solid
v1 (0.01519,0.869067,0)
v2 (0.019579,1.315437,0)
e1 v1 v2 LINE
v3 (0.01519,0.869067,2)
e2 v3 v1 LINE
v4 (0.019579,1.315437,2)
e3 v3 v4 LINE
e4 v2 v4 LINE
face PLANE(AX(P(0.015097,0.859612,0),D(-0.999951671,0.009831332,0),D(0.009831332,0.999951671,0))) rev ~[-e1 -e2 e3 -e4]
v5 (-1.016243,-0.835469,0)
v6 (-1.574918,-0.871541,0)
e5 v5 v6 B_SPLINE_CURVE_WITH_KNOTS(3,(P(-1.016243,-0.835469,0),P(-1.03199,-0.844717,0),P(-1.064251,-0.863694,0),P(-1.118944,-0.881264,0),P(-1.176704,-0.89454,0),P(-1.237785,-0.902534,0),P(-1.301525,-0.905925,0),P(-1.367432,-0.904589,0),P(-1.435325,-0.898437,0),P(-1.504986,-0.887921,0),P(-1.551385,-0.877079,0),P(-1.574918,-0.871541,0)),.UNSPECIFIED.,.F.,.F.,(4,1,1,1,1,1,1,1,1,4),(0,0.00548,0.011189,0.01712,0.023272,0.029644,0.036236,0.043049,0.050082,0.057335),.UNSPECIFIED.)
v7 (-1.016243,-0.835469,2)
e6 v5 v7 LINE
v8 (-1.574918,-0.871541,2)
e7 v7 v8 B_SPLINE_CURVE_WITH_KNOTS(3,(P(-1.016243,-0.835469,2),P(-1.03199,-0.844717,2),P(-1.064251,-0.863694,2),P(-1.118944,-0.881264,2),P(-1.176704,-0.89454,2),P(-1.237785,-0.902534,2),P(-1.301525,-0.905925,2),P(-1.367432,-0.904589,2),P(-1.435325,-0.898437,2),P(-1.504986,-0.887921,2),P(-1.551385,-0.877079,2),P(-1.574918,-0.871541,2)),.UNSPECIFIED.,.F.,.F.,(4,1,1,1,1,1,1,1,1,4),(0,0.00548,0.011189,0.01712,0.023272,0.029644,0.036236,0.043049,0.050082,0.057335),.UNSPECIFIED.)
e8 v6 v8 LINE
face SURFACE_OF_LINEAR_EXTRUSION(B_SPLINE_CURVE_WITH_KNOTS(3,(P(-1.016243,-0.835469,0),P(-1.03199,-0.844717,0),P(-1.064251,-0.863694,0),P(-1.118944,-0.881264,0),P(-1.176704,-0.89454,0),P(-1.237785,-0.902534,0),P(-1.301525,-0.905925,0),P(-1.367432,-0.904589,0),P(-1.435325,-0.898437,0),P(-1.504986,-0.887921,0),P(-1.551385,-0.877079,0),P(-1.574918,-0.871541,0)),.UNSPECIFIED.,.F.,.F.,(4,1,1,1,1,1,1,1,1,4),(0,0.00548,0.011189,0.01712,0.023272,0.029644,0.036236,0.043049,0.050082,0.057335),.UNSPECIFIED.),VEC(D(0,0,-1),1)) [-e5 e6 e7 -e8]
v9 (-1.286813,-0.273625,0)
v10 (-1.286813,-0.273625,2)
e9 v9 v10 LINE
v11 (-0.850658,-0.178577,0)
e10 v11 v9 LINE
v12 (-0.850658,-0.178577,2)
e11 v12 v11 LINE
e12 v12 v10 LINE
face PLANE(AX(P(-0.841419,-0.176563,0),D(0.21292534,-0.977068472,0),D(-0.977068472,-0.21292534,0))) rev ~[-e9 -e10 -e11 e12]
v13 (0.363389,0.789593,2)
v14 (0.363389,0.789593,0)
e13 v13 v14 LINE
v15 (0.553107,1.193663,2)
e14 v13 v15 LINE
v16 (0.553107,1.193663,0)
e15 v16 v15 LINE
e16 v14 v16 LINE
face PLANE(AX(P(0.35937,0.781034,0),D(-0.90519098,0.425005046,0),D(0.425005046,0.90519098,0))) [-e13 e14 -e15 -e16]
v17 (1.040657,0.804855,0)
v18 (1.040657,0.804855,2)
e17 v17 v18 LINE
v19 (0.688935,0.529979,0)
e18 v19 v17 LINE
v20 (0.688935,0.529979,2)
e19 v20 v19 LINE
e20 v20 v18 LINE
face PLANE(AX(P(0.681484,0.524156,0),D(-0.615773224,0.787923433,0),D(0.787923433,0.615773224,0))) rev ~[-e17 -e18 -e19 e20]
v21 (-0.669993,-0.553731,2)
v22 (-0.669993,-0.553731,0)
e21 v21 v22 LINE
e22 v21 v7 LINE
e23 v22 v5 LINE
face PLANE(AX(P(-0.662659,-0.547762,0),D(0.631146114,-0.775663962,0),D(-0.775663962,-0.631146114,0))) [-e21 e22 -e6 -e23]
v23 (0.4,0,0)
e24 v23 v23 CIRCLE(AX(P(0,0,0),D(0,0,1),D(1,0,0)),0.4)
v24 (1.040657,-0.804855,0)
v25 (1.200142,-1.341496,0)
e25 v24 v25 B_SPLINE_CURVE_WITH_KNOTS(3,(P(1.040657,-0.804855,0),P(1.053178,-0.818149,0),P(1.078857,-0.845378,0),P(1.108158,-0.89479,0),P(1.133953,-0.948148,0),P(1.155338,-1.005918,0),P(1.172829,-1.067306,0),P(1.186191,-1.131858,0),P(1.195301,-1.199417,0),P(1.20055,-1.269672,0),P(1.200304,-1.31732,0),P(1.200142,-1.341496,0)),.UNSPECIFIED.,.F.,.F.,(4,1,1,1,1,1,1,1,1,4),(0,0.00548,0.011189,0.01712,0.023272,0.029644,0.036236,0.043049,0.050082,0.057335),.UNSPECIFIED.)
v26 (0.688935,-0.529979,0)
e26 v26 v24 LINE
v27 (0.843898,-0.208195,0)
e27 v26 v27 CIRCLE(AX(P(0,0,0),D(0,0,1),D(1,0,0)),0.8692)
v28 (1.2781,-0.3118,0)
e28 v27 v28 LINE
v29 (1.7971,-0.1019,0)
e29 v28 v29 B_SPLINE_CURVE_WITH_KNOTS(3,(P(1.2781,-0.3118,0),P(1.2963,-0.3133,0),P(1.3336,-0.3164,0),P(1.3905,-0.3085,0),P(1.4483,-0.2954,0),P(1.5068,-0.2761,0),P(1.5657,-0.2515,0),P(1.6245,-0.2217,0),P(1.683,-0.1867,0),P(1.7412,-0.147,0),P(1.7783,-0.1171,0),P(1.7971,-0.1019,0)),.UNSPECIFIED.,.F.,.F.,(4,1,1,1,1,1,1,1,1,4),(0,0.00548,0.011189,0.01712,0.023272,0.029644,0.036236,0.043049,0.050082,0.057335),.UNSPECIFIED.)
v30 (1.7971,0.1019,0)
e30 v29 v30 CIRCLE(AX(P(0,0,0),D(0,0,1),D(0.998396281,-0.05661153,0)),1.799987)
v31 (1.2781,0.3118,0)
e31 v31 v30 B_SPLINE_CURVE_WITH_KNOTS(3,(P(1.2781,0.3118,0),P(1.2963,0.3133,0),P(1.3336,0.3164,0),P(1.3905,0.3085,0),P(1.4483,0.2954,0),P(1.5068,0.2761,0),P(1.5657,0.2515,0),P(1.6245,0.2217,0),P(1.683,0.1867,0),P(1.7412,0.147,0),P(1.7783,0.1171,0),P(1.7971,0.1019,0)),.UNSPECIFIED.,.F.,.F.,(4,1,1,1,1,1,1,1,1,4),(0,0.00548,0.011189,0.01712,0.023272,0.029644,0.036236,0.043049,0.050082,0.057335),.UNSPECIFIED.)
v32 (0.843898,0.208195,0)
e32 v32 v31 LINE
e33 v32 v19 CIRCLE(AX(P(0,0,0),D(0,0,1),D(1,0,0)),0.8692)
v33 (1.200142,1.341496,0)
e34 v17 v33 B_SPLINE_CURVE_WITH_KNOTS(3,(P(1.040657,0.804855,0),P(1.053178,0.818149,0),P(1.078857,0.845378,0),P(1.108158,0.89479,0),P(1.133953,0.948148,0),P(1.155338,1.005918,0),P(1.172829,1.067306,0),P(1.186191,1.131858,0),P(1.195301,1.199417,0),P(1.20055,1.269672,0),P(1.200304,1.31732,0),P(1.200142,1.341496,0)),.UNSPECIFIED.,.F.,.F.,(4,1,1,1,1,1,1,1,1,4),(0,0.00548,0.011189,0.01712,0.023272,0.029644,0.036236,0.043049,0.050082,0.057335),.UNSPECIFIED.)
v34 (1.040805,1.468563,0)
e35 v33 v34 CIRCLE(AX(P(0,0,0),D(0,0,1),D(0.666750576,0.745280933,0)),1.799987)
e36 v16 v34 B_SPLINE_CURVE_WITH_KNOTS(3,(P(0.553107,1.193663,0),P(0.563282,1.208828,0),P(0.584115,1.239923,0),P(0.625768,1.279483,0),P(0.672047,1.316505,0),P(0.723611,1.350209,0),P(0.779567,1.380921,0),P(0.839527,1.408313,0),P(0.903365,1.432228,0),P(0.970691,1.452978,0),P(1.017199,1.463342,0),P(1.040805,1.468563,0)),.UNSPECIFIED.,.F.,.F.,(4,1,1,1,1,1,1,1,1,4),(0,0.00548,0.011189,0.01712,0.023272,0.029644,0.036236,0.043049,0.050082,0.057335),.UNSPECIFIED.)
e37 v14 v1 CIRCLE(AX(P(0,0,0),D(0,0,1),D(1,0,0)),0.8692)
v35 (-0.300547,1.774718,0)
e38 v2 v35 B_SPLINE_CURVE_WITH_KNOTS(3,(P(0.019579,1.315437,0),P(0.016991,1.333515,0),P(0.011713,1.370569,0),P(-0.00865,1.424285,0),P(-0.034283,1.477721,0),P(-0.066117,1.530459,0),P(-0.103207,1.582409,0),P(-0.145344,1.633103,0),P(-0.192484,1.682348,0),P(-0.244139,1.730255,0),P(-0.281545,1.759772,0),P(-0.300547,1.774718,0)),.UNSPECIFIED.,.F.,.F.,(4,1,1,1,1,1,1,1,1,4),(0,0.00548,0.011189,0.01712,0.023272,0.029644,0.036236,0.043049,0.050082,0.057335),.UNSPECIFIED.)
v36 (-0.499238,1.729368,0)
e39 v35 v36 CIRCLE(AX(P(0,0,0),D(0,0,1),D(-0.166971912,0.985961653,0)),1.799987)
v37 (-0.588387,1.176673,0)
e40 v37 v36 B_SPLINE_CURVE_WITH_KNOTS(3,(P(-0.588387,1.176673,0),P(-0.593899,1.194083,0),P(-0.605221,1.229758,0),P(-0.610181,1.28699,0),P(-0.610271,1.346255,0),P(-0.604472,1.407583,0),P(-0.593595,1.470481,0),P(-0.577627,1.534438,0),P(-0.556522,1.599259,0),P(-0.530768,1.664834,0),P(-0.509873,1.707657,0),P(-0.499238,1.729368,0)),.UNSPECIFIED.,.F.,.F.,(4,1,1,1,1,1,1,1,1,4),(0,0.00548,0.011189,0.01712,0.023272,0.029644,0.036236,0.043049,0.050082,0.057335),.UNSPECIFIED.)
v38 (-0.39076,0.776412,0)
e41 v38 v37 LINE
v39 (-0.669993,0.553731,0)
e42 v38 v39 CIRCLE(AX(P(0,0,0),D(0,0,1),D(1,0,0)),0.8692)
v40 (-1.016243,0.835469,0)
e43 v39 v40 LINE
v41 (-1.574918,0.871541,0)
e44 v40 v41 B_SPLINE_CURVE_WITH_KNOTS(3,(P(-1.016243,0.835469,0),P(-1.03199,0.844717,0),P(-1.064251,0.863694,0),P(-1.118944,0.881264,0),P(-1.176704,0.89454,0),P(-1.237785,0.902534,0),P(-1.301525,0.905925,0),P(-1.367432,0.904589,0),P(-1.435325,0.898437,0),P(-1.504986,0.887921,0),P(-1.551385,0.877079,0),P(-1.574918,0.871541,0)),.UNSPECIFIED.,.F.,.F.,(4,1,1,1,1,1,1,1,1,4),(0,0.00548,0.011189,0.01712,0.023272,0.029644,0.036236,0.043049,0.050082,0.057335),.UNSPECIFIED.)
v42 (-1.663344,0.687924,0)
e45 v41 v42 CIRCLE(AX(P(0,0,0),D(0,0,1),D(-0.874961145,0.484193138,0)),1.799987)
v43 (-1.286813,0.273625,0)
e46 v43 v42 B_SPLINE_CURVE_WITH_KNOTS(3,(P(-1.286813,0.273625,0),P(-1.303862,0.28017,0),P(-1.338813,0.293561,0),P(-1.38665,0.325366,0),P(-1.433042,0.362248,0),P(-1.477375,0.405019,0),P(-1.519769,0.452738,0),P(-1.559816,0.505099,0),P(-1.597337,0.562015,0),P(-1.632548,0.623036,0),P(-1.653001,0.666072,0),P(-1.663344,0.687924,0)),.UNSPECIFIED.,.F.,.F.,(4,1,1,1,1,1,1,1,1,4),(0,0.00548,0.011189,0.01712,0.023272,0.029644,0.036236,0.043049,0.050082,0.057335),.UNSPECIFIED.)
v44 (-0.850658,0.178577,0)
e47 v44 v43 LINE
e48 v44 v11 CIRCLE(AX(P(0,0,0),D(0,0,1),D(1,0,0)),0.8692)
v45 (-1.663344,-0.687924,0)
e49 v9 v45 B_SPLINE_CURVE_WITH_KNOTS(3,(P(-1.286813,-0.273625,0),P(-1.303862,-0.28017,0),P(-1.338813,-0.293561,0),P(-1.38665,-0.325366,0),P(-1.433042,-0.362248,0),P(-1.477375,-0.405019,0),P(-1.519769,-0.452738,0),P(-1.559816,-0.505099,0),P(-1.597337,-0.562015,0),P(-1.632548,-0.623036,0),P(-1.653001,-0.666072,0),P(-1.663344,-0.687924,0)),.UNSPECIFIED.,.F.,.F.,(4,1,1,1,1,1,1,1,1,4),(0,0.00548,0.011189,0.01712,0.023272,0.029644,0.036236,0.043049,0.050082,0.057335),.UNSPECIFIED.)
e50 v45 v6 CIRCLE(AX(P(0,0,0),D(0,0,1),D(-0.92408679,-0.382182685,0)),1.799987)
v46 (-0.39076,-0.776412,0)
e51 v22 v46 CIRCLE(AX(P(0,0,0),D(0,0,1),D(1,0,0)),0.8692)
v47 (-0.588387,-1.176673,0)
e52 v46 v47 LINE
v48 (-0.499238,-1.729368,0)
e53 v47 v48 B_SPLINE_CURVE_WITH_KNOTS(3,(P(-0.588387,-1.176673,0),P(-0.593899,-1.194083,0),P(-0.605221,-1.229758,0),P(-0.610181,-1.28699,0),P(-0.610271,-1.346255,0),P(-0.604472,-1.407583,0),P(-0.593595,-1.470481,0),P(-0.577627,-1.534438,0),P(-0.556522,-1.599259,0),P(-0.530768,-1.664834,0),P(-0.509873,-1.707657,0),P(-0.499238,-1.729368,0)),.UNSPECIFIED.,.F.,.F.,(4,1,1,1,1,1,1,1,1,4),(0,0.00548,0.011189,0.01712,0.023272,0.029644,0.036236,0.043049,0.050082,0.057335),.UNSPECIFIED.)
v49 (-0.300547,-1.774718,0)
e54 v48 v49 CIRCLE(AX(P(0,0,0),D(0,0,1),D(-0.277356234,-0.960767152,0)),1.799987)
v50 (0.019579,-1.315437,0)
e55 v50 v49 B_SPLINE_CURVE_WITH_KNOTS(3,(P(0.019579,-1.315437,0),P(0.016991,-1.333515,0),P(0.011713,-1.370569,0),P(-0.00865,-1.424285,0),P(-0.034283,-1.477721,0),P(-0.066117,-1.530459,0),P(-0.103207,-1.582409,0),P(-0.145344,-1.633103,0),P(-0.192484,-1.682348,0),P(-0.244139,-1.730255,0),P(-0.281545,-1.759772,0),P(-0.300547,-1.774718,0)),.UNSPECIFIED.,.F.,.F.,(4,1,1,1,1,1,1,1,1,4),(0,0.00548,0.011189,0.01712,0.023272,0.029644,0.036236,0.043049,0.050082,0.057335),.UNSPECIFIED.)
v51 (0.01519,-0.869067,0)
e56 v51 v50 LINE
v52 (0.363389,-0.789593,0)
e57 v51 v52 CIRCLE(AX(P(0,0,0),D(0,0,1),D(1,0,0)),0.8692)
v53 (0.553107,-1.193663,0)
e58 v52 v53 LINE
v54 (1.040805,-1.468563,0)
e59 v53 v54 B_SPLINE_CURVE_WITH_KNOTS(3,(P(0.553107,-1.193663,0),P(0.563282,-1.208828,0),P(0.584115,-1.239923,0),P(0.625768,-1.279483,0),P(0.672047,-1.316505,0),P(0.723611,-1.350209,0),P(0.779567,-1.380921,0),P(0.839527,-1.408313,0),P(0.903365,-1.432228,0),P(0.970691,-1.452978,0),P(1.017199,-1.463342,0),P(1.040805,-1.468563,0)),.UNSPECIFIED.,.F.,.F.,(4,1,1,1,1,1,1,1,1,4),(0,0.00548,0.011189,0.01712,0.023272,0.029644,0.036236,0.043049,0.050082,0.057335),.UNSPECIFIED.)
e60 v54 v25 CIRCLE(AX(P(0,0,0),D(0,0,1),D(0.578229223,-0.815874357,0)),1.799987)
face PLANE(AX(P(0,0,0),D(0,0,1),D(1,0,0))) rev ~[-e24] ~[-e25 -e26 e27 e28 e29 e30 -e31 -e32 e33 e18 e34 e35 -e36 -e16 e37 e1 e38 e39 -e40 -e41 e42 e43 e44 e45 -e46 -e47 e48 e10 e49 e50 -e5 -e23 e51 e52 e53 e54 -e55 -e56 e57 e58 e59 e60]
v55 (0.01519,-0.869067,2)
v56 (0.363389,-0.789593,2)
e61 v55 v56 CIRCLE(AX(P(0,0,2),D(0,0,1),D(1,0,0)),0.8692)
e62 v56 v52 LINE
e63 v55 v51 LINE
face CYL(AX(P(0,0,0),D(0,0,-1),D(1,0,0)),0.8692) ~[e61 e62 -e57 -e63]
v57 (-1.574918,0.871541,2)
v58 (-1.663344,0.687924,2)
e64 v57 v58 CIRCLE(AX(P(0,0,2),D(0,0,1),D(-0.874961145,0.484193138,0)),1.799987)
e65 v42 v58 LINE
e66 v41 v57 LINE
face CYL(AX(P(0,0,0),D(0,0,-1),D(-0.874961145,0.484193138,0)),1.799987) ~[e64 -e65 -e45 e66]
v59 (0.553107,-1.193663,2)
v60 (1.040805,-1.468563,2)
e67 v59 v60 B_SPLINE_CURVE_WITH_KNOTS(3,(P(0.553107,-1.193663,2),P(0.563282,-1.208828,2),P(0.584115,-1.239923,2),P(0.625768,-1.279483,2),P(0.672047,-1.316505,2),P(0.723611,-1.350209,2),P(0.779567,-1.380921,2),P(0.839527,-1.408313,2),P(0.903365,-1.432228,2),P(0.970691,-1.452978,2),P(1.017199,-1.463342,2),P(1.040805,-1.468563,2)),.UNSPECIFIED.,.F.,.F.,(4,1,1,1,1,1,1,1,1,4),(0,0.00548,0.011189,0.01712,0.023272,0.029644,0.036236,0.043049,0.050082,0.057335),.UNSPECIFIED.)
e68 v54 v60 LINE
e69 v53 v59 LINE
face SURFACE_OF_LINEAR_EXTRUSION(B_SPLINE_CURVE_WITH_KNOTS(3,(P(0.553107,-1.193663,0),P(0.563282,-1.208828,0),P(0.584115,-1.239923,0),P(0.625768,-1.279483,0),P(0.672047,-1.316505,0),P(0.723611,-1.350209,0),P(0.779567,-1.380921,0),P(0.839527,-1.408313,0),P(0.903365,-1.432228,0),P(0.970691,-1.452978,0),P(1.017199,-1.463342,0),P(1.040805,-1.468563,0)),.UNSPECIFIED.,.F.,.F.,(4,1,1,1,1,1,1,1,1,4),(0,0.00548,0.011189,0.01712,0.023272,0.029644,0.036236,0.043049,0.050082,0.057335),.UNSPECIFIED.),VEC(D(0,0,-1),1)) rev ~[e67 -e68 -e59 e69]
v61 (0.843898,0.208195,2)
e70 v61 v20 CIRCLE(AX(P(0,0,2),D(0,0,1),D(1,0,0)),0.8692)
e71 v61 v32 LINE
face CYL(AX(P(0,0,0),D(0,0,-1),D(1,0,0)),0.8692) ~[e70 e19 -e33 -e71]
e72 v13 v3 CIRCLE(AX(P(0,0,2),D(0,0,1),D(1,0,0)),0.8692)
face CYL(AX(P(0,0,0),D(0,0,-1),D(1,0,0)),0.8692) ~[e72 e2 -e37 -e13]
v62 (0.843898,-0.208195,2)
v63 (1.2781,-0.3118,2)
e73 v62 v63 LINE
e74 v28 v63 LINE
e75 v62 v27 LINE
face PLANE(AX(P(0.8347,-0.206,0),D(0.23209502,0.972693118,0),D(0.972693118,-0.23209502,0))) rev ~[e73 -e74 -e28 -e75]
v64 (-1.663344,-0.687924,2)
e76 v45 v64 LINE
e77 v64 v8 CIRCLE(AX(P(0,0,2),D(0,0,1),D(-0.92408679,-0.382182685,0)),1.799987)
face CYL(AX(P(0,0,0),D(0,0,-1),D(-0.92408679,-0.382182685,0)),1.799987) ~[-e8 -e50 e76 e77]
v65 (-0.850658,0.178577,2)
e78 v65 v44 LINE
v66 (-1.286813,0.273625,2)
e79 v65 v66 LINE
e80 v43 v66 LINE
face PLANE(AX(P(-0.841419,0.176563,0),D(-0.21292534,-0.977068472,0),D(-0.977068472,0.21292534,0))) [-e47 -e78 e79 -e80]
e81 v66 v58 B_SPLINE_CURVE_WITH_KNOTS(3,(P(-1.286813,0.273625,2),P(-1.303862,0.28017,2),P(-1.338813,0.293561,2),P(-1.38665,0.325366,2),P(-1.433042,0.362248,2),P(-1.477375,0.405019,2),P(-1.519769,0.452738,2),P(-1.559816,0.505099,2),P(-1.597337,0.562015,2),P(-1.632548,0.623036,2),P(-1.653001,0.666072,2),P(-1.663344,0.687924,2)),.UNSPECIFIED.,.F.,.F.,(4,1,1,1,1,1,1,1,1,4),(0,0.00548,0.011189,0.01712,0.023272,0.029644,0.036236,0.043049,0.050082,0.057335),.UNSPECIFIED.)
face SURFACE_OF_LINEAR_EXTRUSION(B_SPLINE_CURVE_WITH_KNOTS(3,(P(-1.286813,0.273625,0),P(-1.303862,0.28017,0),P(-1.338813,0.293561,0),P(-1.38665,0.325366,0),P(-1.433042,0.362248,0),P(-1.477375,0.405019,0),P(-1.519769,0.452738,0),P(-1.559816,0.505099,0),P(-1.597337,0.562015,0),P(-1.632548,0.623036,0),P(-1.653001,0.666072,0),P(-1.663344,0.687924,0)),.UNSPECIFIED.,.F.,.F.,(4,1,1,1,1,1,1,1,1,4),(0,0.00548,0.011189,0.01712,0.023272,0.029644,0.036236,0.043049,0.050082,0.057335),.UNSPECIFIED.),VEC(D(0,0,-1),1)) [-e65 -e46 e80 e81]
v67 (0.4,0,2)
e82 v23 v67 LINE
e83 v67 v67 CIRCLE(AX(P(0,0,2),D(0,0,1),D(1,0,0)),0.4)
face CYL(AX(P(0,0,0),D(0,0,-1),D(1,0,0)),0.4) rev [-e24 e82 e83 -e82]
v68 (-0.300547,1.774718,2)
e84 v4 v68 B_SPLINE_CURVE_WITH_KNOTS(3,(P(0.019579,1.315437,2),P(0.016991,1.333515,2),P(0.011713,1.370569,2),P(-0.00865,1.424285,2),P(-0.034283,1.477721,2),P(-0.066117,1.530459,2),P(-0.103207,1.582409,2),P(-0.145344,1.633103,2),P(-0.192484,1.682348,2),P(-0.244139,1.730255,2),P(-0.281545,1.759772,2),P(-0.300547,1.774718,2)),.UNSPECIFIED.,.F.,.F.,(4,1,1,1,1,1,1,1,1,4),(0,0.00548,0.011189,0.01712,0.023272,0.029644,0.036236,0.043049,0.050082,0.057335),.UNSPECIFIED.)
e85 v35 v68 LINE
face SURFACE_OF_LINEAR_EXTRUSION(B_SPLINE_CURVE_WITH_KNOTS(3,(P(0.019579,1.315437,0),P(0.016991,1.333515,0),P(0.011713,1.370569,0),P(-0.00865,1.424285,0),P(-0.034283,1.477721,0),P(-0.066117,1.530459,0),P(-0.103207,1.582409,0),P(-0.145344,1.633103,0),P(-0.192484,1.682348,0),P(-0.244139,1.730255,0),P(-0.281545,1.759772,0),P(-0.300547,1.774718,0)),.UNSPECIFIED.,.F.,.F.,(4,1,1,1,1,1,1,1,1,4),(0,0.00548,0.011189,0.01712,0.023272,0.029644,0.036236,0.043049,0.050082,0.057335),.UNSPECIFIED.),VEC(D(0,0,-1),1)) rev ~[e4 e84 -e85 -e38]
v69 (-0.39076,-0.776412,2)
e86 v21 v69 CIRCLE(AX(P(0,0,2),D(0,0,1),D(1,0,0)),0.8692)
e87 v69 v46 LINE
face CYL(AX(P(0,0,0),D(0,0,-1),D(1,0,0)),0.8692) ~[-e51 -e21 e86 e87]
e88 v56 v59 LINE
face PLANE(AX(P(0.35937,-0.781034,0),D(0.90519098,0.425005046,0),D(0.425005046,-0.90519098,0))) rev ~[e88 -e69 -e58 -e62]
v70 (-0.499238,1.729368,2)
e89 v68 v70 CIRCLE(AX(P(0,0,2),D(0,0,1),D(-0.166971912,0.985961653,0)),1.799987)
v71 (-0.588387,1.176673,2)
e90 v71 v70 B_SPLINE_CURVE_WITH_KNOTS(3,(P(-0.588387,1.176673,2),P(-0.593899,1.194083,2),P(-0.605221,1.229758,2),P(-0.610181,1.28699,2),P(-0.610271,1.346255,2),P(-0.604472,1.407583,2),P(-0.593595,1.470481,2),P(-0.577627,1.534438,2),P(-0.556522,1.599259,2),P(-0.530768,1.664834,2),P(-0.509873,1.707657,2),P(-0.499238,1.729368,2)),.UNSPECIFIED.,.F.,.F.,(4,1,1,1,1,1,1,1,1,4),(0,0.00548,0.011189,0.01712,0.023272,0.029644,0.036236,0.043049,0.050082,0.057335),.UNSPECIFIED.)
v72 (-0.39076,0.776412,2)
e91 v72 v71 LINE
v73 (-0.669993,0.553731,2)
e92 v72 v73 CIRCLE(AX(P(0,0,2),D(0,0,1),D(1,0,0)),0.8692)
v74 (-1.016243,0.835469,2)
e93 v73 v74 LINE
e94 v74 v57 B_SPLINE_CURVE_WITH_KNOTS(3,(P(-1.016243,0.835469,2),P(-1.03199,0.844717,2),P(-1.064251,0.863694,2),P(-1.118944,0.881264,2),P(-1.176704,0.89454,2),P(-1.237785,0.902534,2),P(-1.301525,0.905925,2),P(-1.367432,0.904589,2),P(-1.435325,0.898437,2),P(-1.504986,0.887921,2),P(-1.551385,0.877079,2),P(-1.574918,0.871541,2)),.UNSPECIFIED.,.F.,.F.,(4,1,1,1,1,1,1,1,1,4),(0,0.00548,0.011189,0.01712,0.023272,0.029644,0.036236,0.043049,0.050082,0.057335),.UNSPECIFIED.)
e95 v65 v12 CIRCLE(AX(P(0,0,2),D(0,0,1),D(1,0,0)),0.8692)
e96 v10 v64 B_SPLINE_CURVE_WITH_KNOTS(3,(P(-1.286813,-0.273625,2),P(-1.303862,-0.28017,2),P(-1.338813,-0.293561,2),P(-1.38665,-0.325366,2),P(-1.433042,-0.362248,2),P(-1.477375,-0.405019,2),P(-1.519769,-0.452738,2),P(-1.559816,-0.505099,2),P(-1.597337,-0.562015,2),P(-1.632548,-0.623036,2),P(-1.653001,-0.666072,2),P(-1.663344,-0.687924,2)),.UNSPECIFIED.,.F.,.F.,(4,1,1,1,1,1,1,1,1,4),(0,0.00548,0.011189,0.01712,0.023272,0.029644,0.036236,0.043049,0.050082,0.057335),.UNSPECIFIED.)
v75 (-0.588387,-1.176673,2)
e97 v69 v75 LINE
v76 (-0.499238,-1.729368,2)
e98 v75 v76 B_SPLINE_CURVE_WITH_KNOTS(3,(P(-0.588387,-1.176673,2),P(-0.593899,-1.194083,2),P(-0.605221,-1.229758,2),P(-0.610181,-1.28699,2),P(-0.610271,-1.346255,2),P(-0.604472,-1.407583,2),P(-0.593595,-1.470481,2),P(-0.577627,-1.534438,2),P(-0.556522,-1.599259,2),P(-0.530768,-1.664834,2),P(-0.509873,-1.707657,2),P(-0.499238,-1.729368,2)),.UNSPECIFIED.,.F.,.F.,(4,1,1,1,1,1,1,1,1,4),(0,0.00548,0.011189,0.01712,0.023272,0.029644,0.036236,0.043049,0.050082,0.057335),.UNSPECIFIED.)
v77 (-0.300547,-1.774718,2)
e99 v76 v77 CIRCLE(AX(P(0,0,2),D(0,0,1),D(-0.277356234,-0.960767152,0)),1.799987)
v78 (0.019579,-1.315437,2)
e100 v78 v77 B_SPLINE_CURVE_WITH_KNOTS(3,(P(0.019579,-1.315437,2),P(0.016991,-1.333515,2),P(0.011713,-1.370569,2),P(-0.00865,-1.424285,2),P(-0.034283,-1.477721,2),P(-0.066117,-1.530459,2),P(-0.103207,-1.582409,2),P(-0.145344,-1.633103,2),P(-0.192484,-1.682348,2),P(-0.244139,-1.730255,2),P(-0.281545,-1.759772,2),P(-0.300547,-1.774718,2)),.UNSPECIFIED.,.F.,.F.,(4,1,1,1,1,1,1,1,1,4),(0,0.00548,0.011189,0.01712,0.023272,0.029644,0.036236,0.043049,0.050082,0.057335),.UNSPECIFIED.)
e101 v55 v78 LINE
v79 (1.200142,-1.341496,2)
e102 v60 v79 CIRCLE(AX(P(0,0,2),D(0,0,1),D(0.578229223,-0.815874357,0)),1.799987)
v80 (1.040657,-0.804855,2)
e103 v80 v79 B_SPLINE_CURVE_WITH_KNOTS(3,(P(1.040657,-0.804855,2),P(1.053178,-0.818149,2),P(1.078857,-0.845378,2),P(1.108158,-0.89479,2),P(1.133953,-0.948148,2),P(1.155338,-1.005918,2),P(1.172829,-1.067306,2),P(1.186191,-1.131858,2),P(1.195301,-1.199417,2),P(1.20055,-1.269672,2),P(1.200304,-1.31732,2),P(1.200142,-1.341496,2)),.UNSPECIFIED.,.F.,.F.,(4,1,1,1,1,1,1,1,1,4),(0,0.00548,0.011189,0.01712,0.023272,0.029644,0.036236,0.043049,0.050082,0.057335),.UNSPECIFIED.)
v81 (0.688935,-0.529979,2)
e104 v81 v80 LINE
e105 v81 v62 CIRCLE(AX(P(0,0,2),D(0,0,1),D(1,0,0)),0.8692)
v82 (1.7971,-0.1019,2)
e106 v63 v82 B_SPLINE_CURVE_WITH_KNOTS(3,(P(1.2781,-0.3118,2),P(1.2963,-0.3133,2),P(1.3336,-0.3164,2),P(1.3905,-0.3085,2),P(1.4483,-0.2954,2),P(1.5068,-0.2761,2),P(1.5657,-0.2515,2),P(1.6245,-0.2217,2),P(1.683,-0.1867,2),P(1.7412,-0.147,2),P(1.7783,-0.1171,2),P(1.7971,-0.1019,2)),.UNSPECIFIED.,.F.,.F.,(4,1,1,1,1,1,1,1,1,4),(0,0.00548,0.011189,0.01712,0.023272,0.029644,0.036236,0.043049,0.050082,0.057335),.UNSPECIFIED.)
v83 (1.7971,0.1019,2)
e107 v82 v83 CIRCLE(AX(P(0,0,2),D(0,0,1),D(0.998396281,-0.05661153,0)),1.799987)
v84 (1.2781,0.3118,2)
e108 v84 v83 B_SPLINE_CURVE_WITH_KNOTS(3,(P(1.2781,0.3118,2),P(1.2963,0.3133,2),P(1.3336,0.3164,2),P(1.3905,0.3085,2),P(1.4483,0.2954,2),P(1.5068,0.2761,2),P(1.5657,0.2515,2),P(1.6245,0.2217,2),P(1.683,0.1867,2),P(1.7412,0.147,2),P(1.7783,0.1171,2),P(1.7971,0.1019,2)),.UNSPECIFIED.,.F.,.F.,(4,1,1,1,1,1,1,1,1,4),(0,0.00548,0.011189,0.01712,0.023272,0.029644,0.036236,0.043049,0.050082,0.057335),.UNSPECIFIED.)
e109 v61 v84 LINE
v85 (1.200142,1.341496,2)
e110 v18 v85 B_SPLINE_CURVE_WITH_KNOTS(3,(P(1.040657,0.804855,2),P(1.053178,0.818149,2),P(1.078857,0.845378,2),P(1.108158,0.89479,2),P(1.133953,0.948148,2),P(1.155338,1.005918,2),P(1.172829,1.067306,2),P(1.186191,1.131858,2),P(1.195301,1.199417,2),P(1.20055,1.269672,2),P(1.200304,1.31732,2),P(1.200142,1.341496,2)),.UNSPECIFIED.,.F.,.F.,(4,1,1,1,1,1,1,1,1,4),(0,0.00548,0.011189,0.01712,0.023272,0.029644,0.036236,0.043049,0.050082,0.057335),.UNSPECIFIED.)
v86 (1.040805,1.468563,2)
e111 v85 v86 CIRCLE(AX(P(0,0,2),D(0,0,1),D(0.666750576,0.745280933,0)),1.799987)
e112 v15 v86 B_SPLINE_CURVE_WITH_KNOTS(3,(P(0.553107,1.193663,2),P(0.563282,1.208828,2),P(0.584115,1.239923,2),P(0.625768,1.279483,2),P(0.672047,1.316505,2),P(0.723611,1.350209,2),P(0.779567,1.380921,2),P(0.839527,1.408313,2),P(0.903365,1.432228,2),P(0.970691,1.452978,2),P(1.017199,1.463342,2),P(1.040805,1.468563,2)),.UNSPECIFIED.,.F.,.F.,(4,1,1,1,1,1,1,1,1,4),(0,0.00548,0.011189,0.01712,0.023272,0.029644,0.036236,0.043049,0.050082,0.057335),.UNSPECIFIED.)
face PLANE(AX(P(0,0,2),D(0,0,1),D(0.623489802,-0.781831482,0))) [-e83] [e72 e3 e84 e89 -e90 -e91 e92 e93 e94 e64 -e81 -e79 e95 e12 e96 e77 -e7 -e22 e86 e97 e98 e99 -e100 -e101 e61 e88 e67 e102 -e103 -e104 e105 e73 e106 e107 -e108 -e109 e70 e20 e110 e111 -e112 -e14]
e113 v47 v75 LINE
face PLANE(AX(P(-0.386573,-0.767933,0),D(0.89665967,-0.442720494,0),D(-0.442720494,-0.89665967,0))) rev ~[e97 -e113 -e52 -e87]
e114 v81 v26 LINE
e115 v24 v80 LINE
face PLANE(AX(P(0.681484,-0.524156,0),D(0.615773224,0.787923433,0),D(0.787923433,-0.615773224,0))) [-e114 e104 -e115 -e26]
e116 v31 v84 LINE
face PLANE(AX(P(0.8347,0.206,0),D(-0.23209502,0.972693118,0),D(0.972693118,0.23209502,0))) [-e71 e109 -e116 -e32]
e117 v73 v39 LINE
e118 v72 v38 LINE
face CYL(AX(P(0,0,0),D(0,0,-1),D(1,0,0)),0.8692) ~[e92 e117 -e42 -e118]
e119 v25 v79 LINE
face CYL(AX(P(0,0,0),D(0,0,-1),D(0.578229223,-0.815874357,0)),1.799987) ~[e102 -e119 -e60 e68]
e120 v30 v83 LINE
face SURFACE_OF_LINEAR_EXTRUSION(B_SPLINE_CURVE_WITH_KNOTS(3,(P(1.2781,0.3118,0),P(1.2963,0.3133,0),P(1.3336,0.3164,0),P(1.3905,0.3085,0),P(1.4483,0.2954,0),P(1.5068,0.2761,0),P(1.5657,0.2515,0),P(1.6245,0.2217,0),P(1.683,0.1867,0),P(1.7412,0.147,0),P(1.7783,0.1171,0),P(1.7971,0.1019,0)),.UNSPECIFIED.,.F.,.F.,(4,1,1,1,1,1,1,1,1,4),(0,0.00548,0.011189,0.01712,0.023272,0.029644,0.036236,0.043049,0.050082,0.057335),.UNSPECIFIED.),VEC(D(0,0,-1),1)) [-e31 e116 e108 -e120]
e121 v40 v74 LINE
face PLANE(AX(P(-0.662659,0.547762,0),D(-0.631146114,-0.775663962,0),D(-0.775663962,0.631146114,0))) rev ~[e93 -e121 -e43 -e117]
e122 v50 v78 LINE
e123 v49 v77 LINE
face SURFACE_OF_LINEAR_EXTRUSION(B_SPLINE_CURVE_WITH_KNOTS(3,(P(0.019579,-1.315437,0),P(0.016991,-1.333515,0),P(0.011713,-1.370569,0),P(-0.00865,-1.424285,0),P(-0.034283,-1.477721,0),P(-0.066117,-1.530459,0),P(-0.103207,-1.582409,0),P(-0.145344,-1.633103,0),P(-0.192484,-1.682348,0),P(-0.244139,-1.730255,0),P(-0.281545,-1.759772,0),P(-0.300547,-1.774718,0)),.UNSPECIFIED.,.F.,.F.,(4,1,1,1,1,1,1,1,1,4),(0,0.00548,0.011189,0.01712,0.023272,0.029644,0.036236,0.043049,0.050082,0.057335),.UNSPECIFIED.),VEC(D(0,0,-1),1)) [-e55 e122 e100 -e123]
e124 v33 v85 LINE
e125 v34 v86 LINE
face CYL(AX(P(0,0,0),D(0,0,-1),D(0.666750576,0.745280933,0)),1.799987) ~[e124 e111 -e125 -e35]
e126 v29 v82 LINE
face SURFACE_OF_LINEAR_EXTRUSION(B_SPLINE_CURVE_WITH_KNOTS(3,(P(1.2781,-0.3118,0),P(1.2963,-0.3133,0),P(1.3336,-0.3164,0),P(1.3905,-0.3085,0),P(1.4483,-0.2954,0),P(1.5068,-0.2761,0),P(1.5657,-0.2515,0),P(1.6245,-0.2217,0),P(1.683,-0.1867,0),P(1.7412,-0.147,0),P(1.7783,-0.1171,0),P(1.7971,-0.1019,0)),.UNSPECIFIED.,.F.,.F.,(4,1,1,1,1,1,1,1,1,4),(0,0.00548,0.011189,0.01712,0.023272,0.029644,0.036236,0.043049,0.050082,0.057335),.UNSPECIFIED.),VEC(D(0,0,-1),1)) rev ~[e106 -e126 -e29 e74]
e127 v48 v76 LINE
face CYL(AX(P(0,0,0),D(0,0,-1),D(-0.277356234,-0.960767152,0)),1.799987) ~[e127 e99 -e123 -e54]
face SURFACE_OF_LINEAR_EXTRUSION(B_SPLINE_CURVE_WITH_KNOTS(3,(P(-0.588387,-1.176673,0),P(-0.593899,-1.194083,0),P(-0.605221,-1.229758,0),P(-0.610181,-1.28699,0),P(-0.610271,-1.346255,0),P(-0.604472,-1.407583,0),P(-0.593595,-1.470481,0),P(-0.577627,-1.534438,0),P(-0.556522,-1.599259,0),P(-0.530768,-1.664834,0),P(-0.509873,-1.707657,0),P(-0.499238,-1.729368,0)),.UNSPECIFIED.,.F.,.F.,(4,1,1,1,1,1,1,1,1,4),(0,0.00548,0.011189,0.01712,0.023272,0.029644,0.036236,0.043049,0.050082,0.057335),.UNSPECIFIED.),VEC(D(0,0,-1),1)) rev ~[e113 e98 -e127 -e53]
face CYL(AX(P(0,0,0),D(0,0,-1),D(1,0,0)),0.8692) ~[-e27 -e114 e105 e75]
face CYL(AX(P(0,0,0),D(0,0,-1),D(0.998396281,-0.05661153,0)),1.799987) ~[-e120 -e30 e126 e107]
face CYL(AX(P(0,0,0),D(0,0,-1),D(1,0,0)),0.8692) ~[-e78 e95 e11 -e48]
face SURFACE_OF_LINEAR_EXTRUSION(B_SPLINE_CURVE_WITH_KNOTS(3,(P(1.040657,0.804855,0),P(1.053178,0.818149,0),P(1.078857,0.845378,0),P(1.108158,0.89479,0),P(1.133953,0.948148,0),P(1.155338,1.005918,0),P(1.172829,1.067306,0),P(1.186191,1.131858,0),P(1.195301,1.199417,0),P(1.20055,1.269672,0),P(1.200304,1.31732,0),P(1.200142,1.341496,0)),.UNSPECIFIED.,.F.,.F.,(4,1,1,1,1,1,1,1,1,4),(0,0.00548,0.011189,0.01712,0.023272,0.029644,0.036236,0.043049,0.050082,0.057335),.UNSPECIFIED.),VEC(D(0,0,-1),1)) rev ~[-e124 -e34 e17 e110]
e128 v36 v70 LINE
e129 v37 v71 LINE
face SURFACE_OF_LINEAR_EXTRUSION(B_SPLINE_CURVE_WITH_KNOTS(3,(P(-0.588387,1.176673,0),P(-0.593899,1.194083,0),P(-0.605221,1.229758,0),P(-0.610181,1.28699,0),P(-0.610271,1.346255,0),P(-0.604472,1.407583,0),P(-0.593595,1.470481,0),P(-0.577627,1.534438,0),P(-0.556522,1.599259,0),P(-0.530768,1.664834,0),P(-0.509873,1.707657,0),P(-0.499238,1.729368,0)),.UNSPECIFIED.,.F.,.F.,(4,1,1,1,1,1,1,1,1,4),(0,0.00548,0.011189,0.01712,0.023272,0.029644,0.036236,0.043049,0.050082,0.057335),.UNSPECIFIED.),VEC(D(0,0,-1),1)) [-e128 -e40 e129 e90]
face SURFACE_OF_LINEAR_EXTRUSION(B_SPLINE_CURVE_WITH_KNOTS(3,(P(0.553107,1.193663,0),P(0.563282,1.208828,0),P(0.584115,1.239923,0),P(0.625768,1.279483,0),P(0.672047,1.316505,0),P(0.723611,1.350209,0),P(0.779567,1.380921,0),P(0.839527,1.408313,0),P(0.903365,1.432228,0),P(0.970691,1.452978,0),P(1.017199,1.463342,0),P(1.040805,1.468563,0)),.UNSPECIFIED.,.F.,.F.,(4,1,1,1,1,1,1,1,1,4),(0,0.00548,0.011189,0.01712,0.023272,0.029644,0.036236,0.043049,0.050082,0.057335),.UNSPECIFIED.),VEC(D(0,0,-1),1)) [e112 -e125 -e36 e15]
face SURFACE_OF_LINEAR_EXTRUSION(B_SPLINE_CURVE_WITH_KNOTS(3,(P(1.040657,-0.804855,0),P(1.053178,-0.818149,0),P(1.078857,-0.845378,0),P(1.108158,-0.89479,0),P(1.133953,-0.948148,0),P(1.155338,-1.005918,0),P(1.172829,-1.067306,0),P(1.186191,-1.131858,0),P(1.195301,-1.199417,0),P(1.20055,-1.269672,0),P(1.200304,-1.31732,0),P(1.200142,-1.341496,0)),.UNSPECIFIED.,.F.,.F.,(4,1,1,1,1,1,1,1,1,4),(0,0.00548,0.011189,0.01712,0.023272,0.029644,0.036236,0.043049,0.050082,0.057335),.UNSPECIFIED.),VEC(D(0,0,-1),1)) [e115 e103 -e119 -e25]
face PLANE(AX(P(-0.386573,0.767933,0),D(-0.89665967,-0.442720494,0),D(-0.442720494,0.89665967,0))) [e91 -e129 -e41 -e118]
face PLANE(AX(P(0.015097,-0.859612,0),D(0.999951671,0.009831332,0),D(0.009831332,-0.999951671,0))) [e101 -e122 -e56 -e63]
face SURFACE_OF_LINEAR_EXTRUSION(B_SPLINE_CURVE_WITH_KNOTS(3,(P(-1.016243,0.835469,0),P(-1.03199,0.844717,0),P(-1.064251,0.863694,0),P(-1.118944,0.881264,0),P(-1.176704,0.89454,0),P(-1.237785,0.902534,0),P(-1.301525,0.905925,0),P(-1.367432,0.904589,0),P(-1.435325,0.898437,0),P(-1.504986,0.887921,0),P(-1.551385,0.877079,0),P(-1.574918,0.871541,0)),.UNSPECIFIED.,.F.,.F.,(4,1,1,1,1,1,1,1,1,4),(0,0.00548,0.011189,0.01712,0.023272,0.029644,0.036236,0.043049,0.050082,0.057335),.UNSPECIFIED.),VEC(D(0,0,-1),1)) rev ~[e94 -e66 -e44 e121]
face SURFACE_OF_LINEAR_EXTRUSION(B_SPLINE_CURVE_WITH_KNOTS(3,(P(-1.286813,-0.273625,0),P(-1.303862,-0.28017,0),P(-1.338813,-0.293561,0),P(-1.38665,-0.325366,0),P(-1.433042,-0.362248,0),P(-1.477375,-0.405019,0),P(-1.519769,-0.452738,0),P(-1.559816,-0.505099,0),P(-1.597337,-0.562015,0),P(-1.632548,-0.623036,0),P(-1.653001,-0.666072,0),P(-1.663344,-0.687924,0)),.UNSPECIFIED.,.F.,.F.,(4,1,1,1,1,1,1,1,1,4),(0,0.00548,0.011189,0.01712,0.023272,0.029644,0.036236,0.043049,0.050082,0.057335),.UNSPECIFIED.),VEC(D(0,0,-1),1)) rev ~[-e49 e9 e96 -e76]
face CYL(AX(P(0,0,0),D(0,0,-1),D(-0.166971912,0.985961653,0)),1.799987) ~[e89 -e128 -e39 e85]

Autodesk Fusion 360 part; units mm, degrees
sketch "スケッチ1" plane through (0, 0, 0) normal (0, 0, 1) x (1, 0, 0) in component "Spur Gear (7 teeth)"
  circle A0 centre (0, 0) radius 0.8692
  circle A1 centre (0, 0) radius 0.25
extrude "押し出し1" add sketch "スケッチ1" along normal blind 2 makes body 1 in component "Spur Gear (7 teeth)"
sketch "スケッチ2" plane through (0, 0, 0) normal (0, 0, 1) x (1, 0, 0) in component "Spur Gear (7 teeth)"
  spline S0 degree 3 poles (1.2786, -0.3095) (1.2969, -0.311) (1.3342, -0.314) (1.391, -0.306) (1.4488, -0.2928) (1.5073, -0.2734) (1.5661, -0.2487) (1.6249, -0.2188) (1.6834, -0.1837) (1.7414, -0.1439) (1.7785, -0.1139) (1.7973, -0.0987) knots 0 0 0 0 0.00548 0.011189 0.01712 0.023272 0.029644 0.036236 0.043049 0.050082 0.057335 0.057335 0.057335 0.057335
  spline S1 degree 3 poles (1.2786, 0.3095) (1.2969, 0.311) (1.3342, 0.314) (1.391, 0.306) (1.4488, 0.2928) (1.5073, 0.2734) (1.5661, 0.2487) (1.6249, 0.2188) (1.6834, 0.1837) (1.7414, 0.1439) (1.7785, 0.1139) (1.7973, 0.0987) knots 0 0 0 0 0.00548 0.011189 0.01712 0.023272 0.029644 0.036236 0.043049 0.050082 0.057335 0.057335 0.057335 0.057335
  arc A0 (1.7973, -0.0987) -> (1.7973, 0.0987) centre (0, 0) ccw
  line L0 (0.8351, -0.2045) -> (1.2786, -0.3095)
  line L1 (0.8351, 0.2045) -> (1.2786, 0.3095)
  line L2 (0.8351, -0.2045) -> (0.8351, 0.2045)
  point P0 (1.3334, -0.312)
  point P1 (1.3901, -0.3053)
  point P2 (1.4479, -0.2921)
  point P3 (1.5063, -0.2729)
  point P4 (1.5651, -0.2483)
  point P5 (1.6239, -0.2184)
  point P6 (1.6824, -0.1835)
  point P7 (1.7403, -0.1436)
  point P8 (1.3334, 0.312)
  point P9 (1.3901, 0.3053)
  point P10 (1.4479, 0.2921)
  point P11 (1.5063, 0.2729)
  point P12 (1.5651, 0.2483)
  point P13 (1.6239, 0.2184)
  point P14 (1.6824, 0.1835)
  point P15 (1.7403, 0.1436)
extrude "押し出し2" add sketch "スケッチ2" along normal blind 2 bodies 1 in component "Spur Gear (7 teeth)"
fillet "フィレット1" radius 0.21 2 edges at (0.8443, -0.2067, 1) (0.8443, 0.2067, 1) on bodies 1 in component "Spur Gear (7 teeth)"
pattern_circular "C パターン1" count 7 over 360 about axis through (0, 0, 0) along (0, 0, 1) of "押し出し2", "フィレット1" in component "Spur Gear (7 teeth)"
sketch "スケッチ3" plane through (0, 0, 0) normal (0, 0, 1) x (1, 0, 0) in component "Spur Gear (7 teeth)"
  circle A0 centre (0, 0) radius 1.4 construction
sketch "スケッチ1 (2)" plane through (0, 0, 0) normal (0, 0, 1) x (1, 0, 0) in component "Spur Gear (7 teeth) (1)"
  circle A0 centre (0, 0) radius 0.8692
  circle A1 centre (0, 0) radius 0.4
extrude "押し出し1'" add sketch "スケッチ1 (2)" along normal blind 2 separate body makes body 2 in component "Spur Gear (7 teeth) (1)"
sketch "スケッチ2 (2)" plane through (0, 0, 0) normal (0, 0, 1) x (1, 0, 0) in component "Spur Gear (7 teeth) (1)"
  spline S0 degree 3 poles (1.2781, -0.3118) (1.2963, -0.3133) (1.3336, -0.3164) (1.3905, -0.3085) (1.4483, -0.2954) (1.5068, -0.2761) (1.5657, -0.2515) (1.6245, -0.2217) (1.683, -0.1867) (1.7412, -0.147) (1.7783, -0.1171) (1.7971, -0.1019) knots 0 0 0 0 0.00548 0.011189 0.01712 0.023272 0.029644 0.036236 0.043049 0.050082 0.057335 0.057335 0.057335 0.057335
  spline S1 degree 3 poles (1.2781, 0.3118) (1.2963, 0.3133) (1.3336, 0.3164) (1.3905, 0.3085) (1.4483, 0.2954) (1.5068, 0.2761) (1.5657, 0.2515) (1.6245, 0.2217) (1.683, 0.1867) (1.7412, 0.147) (1.7783, 0.1171) (1.7971, 0.1019) knots 0 0 0 0 0.00548 0.011189 0.01712 0.023272 0.029644 0.036236 0.043049 0.050082 0.057335 0.057335 0.057335 0.057335
  arc A0 (1.7971, -0.1019) -> (1.7971, 0.1019) centre (0, 0) ccw
  line L0 (0.8347, -0.206) -> (1.2781, -0.3118)
  line L1 (0.8347, 0.206) -> (1.2781, 0.3118)
  line L2 (0.8347, -0.206) -> (0.8347, 0.206)
  point P0 (1.3328, -0.3144)
  point P1 (1.3895, -0.3078)
  point P2 (1.4474, -0.2946)
  point P3 (1.5059, -0.2756)
  point P4 (1.5647, -0.2511)
  point P5 (1.6235, -0.2213)
  point P6 (1.682, -0.1865)
  point P7 (1.74, -0.1467)
  point P8 (1.3328, 0.3144)
  point P9 (1.3895, 0.3078)
  point P10 (1.4474, 0.2946)
  point P11 (1.5059, 0.2756)
  point P12 (1.5647, 0.2511)
  point P13 (1.6235, 0.2213)
  point P14 (1.682, 0.1865)
  point P15 (1.74, 0.1467)
extrude "押し出し2'" add sketch "スケッチ2 (2)" along normal blind 2 bodies 2 in component "Spur Gear (7 teeth) (1)"
pattern_circular "C パターン1'" count 7 over 360 about axis through (0, 0, 0) along (0, 0, 1) of "押し出し2'" in component "Spur Gear (7 teeth) (1)"
sketch "スケッチ3 (2)" plane through (0, 0, 0) normal (0, 0, 1) x (1, 0, 0) in component "Spur Gear (7 teeth) (1)"
  circle A0 centre (0, 0) radius 1.4 construction
component "Spur Gear (7 teeth) (1)" placed x (1, 0, 0) y (0, 1, 0) z (0, 0, 1) at (0, 0, 0)
